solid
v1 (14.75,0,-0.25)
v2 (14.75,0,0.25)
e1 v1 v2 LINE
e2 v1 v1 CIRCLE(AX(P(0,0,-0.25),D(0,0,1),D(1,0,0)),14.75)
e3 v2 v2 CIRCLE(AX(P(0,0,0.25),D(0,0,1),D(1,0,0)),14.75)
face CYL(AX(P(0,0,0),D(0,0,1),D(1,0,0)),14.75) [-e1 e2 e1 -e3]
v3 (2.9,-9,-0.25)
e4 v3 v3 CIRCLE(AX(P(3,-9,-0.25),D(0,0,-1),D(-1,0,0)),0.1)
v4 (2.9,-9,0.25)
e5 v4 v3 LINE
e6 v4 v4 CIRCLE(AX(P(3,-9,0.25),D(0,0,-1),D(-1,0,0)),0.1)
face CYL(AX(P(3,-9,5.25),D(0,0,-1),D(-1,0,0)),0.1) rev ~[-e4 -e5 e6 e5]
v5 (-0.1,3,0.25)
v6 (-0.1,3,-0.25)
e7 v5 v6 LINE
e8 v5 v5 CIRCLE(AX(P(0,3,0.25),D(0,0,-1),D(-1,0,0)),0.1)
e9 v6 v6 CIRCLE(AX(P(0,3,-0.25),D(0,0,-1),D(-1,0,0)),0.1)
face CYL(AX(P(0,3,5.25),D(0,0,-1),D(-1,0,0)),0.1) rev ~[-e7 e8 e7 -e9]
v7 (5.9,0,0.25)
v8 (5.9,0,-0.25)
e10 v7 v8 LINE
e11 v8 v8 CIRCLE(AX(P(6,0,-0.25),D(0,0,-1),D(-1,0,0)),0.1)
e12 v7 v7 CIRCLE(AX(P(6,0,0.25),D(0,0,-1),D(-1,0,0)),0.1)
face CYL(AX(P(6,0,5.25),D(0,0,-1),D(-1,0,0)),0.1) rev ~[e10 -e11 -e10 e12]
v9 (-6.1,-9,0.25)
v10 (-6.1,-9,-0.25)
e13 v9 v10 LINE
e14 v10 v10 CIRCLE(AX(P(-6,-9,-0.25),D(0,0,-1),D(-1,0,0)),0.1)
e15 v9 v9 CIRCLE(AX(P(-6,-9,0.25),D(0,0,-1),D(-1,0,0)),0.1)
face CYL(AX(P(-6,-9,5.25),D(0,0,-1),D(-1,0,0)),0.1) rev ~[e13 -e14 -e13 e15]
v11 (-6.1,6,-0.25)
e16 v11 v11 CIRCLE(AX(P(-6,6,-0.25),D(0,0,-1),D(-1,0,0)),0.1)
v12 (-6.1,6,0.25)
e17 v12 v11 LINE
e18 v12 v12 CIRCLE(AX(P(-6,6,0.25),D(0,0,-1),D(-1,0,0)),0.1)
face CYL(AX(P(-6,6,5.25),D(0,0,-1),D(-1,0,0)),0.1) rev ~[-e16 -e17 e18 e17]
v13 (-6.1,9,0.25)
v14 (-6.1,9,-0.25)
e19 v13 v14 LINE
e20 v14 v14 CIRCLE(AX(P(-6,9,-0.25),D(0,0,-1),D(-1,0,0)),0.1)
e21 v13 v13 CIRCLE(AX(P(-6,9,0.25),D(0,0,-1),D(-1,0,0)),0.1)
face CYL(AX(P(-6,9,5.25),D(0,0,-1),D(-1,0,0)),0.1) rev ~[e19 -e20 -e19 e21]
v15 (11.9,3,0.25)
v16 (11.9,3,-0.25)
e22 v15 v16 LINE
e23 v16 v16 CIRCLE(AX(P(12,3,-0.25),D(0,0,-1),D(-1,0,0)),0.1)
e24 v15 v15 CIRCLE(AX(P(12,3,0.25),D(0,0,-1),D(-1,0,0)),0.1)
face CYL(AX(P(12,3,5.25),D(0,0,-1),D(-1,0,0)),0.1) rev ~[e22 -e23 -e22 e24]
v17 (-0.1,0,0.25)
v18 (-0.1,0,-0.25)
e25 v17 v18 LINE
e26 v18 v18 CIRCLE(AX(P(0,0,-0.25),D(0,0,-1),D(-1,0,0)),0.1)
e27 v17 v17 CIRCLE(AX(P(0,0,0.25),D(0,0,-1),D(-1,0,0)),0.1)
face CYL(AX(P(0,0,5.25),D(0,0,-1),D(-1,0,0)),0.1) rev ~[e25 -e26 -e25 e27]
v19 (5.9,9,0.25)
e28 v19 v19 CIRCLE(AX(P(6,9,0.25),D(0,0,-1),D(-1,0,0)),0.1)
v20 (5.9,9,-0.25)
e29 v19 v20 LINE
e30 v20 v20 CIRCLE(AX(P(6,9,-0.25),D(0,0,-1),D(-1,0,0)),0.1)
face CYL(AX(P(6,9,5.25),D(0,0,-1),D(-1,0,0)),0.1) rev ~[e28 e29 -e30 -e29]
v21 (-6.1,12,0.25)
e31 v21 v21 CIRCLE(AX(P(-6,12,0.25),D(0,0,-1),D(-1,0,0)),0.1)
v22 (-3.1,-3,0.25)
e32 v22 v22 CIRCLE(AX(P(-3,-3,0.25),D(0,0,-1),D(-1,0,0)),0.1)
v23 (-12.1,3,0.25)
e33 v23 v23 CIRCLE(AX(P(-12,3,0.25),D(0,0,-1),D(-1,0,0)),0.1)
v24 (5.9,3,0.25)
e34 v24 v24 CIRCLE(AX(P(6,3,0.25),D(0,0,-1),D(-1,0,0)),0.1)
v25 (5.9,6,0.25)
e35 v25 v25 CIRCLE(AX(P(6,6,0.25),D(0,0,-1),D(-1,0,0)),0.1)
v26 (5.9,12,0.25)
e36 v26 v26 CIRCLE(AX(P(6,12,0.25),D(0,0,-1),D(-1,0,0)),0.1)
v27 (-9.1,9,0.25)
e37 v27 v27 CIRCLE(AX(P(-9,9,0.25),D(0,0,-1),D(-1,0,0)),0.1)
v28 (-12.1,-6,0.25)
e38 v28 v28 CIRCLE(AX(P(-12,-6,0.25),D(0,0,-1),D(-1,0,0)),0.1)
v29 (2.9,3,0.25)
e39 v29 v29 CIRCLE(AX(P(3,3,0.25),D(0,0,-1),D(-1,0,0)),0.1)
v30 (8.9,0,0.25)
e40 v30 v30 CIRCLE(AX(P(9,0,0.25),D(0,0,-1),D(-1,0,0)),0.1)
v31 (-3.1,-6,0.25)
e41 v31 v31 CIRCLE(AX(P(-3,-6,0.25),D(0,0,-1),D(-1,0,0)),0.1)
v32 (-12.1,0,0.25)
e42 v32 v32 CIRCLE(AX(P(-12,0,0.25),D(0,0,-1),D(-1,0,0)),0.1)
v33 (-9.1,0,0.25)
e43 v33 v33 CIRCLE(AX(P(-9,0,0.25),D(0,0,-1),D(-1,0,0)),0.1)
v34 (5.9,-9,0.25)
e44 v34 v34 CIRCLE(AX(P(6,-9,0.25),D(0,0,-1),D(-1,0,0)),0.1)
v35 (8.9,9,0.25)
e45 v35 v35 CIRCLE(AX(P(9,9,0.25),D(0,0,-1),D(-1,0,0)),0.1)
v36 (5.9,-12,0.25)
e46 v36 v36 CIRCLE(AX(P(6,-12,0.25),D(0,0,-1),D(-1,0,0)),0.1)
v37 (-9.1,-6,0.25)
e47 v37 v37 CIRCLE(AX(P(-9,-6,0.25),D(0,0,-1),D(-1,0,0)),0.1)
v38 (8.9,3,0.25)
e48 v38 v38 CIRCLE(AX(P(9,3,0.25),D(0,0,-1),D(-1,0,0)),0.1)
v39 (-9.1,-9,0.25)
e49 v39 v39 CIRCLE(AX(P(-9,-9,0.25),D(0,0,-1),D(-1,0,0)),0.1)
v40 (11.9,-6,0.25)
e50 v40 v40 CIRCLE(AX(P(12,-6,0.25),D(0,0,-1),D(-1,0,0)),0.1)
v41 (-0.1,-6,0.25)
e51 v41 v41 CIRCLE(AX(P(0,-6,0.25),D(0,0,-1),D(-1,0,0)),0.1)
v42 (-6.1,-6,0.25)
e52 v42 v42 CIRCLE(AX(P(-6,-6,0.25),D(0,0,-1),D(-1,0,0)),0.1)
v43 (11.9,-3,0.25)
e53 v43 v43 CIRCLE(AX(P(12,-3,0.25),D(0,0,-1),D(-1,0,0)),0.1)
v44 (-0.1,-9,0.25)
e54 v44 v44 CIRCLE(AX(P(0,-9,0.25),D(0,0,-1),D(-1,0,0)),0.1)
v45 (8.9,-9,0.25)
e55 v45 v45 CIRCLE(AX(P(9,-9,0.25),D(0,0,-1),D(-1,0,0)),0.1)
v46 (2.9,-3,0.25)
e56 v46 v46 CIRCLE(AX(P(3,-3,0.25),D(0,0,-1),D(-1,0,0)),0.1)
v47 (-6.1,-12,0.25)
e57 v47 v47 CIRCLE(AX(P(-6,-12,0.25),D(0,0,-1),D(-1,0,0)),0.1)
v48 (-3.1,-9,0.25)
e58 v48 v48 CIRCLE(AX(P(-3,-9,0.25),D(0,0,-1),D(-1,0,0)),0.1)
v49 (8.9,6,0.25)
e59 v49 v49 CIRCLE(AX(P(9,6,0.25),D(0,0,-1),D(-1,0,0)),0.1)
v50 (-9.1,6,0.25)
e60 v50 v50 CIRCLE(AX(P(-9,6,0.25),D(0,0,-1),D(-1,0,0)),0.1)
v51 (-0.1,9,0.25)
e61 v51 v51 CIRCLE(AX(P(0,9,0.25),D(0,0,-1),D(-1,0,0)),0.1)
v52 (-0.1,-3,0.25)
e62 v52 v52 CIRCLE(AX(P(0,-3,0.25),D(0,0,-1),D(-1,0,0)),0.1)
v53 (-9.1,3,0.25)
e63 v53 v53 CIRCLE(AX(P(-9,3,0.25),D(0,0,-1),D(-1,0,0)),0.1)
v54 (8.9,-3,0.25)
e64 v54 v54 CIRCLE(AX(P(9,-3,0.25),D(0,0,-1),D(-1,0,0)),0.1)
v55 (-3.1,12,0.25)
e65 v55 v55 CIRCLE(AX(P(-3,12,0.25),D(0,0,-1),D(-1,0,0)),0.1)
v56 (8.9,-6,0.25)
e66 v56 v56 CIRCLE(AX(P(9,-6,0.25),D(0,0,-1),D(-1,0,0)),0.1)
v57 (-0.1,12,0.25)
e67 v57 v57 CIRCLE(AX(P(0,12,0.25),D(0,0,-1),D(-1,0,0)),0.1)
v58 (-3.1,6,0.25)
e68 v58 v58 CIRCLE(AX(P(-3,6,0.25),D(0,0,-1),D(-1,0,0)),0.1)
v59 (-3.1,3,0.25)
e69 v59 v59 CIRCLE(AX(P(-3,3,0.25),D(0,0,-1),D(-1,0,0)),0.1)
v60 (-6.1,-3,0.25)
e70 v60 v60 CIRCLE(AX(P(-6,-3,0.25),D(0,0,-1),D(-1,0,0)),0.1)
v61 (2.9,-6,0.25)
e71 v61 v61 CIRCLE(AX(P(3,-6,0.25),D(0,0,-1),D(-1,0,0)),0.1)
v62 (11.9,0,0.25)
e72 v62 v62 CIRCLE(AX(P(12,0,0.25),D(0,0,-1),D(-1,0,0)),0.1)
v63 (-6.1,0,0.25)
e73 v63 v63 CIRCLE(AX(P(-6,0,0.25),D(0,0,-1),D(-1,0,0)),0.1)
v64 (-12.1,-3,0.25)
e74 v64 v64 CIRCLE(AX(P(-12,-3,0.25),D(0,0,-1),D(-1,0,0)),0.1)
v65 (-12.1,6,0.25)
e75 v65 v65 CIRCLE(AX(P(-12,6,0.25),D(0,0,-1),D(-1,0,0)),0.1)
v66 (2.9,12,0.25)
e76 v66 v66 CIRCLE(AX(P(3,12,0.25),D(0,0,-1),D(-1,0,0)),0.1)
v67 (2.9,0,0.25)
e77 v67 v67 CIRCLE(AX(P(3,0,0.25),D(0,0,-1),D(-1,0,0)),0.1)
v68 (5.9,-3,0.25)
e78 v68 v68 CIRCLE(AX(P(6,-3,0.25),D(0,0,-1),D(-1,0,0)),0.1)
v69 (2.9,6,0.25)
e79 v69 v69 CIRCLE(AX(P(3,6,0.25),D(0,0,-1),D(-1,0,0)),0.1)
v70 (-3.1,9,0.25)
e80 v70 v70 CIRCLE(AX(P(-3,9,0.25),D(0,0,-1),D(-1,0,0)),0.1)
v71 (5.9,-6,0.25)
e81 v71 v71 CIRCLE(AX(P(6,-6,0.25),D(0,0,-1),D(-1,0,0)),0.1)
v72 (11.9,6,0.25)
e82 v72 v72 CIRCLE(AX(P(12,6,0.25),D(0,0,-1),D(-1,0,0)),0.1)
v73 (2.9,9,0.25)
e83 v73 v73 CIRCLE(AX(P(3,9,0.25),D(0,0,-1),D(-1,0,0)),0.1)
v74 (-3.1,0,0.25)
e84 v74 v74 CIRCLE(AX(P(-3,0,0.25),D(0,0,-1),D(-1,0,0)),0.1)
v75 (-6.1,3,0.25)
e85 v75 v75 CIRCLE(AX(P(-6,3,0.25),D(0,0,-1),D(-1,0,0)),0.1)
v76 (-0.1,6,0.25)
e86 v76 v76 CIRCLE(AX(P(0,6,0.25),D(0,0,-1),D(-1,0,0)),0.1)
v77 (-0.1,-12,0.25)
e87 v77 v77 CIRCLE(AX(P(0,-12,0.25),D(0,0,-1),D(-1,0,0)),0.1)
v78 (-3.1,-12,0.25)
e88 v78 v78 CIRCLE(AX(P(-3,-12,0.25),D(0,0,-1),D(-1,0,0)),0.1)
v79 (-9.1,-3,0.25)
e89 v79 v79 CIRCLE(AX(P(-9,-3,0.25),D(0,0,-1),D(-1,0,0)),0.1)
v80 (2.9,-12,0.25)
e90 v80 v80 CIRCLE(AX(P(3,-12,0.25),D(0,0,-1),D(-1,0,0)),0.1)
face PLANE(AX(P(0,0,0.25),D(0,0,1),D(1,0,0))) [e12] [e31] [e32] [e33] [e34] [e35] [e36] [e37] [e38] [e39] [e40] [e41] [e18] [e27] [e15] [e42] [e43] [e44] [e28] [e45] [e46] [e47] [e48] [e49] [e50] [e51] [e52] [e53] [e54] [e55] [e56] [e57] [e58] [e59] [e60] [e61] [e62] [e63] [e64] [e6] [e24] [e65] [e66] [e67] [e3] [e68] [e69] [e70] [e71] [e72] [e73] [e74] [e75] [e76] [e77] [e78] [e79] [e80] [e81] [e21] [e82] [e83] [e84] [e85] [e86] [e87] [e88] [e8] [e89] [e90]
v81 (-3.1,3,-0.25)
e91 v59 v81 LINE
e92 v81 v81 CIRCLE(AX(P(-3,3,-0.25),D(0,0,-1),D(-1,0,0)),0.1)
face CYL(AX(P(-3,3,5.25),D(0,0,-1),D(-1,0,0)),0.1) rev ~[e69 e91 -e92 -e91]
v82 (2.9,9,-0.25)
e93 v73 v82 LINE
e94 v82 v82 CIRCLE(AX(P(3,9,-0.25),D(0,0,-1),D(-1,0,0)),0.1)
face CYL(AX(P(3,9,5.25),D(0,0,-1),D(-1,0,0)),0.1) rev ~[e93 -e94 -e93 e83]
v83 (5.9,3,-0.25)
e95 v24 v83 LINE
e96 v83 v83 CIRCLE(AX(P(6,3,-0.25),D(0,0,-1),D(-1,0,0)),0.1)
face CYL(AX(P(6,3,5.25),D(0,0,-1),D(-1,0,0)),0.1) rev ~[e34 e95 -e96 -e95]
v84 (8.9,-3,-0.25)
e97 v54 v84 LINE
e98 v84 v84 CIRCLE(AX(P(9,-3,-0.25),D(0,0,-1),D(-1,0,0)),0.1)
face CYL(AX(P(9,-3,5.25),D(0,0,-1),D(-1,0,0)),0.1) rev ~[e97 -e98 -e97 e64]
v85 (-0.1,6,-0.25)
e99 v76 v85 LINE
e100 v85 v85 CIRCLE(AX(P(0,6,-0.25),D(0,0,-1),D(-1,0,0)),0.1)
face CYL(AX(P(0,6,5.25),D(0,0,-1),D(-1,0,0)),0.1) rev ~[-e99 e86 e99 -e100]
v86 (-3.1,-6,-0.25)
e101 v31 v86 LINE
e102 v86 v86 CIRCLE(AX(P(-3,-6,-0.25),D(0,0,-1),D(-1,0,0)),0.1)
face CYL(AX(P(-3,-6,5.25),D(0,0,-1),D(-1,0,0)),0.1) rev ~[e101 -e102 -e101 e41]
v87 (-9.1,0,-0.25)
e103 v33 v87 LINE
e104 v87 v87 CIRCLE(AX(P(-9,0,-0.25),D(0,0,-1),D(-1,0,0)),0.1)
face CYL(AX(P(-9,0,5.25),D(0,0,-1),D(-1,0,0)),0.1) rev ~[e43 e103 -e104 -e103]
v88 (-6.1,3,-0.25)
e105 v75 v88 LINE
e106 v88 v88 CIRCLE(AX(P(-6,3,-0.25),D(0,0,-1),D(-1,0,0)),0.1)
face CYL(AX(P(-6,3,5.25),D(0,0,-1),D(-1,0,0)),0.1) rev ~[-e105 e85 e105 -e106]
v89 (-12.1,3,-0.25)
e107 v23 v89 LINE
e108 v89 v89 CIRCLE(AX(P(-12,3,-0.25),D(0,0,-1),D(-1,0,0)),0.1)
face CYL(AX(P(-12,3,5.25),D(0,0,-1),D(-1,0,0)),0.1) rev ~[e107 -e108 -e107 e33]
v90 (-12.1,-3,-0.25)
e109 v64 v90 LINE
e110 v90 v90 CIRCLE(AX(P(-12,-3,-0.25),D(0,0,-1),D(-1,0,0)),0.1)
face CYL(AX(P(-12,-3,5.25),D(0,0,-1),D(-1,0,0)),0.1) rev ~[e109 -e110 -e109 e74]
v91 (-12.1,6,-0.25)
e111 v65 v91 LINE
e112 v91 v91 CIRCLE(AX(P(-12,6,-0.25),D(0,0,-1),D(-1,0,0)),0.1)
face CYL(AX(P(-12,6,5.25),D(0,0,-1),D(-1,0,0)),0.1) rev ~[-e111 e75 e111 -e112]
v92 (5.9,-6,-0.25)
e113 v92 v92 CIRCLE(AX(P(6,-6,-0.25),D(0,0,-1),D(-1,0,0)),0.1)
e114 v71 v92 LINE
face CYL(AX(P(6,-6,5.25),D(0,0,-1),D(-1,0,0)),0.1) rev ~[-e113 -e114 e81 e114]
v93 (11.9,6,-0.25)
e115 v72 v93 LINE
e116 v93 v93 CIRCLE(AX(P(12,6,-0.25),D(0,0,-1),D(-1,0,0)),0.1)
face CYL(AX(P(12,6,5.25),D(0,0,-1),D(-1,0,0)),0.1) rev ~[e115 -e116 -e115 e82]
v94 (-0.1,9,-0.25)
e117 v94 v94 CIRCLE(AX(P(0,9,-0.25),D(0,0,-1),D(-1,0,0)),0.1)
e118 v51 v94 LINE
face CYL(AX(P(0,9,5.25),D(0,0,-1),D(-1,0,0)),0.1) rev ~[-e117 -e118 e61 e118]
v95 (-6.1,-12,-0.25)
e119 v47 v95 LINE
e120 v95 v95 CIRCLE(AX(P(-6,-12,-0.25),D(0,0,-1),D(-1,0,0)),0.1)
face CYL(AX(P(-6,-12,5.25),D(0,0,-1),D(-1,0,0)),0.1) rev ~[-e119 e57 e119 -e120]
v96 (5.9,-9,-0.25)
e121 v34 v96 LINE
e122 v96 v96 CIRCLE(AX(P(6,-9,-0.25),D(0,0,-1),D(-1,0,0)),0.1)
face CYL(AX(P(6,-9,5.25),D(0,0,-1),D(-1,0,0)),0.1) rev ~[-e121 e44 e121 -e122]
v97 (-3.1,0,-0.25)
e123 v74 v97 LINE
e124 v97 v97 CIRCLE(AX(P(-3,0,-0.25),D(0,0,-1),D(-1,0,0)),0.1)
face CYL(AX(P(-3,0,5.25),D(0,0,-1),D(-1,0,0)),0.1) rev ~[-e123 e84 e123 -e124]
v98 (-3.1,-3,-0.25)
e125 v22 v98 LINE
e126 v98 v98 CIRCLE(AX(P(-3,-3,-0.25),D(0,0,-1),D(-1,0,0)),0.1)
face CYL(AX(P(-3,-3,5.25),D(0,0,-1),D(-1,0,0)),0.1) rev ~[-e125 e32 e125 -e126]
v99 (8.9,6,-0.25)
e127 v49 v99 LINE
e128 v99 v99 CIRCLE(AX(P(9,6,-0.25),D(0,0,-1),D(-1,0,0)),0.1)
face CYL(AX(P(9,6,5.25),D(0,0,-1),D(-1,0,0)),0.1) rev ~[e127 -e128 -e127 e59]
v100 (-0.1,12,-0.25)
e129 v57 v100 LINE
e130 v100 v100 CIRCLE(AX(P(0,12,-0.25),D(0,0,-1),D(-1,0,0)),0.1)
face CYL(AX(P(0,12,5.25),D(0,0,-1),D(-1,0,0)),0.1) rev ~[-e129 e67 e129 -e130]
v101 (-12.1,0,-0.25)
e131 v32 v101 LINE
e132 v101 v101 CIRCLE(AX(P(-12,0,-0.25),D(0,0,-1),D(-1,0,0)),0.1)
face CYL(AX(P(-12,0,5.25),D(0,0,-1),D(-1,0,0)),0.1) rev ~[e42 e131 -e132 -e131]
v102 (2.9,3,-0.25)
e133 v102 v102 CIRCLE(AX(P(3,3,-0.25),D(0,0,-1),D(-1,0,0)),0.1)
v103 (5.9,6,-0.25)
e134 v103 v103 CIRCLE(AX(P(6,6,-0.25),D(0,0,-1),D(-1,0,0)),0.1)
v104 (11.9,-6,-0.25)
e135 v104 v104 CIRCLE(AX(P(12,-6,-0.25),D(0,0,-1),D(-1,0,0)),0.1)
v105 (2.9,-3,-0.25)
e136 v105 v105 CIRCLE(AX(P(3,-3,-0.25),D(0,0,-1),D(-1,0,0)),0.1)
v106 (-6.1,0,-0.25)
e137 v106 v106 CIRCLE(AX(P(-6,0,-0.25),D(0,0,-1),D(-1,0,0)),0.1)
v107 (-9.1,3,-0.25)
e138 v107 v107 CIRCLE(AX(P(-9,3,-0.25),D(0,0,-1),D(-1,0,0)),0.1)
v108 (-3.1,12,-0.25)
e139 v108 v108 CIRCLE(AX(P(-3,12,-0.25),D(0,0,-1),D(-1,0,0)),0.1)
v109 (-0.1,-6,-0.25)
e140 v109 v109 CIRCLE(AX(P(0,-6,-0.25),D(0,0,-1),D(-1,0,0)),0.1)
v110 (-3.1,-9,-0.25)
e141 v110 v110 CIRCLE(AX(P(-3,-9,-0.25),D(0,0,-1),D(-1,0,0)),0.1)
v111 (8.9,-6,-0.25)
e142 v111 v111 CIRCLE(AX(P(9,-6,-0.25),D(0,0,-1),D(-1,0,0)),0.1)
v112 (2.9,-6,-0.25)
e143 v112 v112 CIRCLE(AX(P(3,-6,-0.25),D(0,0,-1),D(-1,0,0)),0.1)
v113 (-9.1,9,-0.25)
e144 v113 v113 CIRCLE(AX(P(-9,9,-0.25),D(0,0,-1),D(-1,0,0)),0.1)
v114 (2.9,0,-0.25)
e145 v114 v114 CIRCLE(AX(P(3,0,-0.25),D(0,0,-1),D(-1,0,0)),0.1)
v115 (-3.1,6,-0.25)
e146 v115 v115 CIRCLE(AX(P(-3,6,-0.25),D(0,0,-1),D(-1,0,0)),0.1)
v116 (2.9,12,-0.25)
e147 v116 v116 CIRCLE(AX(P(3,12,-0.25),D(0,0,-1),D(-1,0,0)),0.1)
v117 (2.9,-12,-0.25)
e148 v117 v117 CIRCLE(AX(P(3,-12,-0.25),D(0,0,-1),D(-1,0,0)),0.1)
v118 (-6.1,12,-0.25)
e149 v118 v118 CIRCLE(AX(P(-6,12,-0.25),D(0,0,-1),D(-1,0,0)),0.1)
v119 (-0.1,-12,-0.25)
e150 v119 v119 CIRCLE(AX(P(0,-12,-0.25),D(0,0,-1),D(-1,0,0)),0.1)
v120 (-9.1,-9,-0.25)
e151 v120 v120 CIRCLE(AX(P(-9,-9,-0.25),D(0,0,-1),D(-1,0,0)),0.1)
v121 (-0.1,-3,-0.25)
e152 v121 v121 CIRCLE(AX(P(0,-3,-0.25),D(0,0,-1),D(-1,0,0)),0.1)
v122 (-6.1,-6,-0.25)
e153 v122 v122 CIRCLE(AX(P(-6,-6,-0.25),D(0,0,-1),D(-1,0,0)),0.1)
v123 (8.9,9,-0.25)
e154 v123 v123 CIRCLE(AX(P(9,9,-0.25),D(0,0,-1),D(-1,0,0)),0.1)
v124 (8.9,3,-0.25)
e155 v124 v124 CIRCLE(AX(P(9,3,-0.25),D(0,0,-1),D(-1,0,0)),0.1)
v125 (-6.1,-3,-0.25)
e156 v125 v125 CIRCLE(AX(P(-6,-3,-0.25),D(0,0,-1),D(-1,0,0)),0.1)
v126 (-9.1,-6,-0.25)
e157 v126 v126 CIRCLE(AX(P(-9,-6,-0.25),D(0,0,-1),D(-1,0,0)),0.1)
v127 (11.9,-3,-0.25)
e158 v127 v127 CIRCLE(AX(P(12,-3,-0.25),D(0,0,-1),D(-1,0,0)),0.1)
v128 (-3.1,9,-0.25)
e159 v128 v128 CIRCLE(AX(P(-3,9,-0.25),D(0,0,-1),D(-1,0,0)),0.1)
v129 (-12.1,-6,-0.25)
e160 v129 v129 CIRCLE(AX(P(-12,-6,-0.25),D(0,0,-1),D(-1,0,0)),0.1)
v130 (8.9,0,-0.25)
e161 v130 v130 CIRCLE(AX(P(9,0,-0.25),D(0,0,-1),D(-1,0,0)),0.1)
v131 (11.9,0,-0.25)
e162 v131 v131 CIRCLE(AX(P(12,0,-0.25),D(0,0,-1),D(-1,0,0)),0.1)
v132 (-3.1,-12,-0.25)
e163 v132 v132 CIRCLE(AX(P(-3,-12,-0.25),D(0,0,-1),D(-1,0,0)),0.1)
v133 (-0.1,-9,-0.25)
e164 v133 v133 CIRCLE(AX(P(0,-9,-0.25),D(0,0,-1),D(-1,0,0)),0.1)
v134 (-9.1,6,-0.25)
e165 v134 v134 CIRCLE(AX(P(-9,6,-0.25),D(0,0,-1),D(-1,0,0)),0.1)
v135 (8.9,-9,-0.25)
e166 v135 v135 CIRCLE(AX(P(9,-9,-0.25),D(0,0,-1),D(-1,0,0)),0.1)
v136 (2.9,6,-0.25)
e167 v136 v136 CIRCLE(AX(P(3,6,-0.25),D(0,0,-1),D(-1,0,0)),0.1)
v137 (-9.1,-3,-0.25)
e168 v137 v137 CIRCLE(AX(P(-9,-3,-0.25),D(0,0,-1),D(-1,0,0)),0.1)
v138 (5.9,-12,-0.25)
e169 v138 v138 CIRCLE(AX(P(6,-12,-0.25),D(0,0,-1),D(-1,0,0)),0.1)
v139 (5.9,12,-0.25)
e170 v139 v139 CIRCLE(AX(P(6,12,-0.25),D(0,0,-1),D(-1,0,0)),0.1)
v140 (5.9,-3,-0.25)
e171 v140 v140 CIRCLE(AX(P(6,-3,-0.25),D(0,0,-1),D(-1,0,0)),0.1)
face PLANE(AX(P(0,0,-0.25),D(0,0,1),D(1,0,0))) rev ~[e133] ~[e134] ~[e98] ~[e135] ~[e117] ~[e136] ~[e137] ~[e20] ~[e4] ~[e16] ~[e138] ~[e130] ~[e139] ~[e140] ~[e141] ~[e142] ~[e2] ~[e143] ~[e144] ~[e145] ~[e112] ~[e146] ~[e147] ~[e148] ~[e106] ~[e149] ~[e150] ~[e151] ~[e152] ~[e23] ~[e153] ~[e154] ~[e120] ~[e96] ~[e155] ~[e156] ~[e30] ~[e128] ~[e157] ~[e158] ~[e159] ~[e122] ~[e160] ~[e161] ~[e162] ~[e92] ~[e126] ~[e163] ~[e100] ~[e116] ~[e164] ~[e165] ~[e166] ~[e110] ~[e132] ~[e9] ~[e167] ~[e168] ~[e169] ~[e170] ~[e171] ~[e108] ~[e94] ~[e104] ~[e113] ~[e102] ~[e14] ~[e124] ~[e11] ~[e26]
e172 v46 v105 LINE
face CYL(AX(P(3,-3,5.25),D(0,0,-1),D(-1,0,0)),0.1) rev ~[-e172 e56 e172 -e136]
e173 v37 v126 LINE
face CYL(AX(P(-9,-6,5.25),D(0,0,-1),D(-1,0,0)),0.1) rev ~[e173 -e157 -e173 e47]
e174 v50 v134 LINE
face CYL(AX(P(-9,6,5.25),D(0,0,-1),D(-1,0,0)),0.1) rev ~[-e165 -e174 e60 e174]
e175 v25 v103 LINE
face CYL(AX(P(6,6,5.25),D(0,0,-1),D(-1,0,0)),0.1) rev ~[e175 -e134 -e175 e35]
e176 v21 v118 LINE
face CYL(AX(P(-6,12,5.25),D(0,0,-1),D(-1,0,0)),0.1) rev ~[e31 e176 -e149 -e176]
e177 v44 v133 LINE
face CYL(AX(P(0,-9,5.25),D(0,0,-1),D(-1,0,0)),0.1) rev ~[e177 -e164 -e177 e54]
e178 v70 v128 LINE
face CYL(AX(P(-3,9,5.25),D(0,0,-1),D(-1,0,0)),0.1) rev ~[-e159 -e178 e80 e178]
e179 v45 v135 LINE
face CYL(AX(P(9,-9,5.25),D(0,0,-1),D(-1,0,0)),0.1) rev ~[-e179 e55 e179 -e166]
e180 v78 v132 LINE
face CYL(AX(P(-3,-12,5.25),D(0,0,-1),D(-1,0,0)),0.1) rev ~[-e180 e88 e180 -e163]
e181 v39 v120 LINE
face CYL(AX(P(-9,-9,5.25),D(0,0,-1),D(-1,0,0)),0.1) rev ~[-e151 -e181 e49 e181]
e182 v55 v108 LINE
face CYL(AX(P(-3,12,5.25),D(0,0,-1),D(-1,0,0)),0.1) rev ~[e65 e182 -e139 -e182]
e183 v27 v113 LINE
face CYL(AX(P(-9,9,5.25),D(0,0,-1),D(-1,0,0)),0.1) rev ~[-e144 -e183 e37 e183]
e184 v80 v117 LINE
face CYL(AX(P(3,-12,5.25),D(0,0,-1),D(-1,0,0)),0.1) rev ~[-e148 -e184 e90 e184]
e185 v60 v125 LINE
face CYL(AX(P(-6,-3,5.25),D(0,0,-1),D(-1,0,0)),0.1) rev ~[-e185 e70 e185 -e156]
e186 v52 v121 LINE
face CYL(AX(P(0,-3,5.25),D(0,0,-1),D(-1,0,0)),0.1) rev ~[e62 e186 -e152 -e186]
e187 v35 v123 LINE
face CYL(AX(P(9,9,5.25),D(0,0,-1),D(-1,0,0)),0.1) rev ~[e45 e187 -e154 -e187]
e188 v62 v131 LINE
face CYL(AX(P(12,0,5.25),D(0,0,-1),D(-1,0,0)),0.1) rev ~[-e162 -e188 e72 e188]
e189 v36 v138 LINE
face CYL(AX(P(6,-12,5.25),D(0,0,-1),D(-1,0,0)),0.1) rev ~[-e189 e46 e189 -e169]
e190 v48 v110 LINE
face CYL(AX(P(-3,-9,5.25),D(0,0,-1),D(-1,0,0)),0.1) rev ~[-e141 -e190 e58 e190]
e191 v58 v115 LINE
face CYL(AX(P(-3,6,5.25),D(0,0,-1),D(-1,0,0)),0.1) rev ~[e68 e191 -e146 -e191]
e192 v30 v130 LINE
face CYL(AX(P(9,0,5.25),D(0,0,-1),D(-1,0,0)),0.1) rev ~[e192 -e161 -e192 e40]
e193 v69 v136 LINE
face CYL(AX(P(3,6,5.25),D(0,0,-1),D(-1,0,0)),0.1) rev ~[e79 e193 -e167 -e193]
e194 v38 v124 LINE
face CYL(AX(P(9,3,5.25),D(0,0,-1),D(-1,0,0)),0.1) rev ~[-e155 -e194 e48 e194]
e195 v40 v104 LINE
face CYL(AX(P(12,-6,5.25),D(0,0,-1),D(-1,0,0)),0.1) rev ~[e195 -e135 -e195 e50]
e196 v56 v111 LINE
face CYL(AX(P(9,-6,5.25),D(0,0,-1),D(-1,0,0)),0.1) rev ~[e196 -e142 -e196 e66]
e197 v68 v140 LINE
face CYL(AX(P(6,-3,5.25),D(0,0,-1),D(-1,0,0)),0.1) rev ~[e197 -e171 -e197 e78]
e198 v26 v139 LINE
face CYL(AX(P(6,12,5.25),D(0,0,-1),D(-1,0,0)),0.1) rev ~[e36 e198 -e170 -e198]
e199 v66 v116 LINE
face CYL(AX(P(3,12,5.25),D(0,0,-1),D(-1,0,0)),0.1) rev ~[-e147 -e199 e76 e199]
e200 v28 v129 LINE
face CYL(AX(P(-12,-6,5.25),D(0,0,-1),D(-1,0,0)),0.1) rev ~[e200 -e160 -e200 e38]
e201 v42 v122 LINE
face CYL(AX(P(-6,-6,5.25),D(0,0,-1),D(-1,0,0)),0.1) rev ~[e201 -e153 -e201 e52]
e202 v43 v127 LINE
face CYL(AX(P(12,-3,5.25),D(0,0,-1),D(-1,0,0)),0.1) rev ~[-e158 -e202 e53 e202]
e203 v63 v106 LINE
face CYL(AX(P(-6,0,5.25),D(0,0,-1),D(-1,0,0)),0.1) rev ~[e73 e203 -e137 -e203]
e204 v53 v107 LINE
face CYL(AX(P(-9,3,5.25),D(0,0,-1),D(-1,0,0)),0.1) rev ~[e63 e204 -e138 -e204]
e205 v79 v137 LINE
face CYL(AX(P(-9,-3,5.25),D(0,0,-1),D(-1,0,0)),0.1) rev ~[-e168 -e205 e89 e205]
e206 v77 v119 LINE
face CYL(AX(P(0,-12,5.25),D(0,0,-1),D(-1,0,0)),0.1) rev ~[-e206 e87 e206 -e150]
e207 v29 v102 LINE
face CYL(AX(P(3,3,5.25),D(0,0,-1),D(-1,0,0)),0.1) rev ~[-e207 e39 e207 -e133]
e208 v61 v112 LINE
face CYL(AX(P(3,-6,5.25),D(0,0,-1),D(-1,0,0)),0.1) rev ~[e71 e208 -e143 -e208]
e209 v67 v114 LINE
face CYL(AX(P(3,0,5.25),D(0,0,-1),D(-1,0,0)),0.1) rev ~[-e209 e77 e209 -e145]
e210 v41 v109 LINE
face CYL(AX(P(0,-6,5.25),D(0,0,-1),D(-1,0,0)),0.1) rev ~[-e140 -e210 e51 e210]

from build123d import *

# Parameters (mm, degrees)
F0_R     = 14.75
F1_DEPTH = 0.25
F3_D     = 0.2
F3_DEPTH = 5
F3_TIP   = 0.0600860619


with BuildPart() as f1:
    # F0 (on Top) → F1 (new body, symmetric)
    with BuildSketch(Plane.XY):
        Circle(F0_R)
    extrude(amount=F1_DEPTH, both=True)

    # F3
    with Locations(Plane.XY.offset(0.25)):
        with Locations((12, -12), (6, -9), (6, 0), (9, 3), (0, 12), (-6, 3), (-6, -12), (-12, -6), (6, 12), (-12, -12), (12, 3), (-6, 12), (3, 6), (0, 9), (12, 9), (-12, 6), (-9, -9), (9, 0), (9, -6), (6, 3), (0, 3), (-6, 6), (6, -12), (-6, 0), (-9, 3), (-12, 9), (9, 6), (3, -3), (3, -12), (-12, 12), (6, 6), (3, -6), (12, 0), (-9, -6), (0, 6), (12, 12), (3, 9), (12, -3), (-3, -3), (-12, -3), (3, 3), (-3, -12), (-12, -9), (-3, 3), (-12, 3), (-3, 12), (12, 6), (3, 0), (3, -9), (9, -12), (-6, -9), (0, -9), (-9, 9), (9, 9), (6, -3), (-3, 0), (0, -3), (0, 0), (-9, 6), (-9, 0), (3, 12), (12, -6), (-3, -6), (-6, -3), (0, -12), (-6, 9), (9, 12), (9, -3), (12, -9), (-3, 6), (-12, 0), (0, -6), (-3, -9), (-9, -12), (-6, -6), (-9, -3), (-3, 9), (-9, 12), (6, 9), (6, -6), (9, -9)):
            Hole(F3_D / 2, depth=F3_DEPTH)
            with Locations((0, 0, -(F3_DEPTH + F3_TIP / 2))):  # 118° drill point
                Cone(0, F3_D / 2, F3_TIP, mode=Mode.SUBTRACT)


solid = f1.part
